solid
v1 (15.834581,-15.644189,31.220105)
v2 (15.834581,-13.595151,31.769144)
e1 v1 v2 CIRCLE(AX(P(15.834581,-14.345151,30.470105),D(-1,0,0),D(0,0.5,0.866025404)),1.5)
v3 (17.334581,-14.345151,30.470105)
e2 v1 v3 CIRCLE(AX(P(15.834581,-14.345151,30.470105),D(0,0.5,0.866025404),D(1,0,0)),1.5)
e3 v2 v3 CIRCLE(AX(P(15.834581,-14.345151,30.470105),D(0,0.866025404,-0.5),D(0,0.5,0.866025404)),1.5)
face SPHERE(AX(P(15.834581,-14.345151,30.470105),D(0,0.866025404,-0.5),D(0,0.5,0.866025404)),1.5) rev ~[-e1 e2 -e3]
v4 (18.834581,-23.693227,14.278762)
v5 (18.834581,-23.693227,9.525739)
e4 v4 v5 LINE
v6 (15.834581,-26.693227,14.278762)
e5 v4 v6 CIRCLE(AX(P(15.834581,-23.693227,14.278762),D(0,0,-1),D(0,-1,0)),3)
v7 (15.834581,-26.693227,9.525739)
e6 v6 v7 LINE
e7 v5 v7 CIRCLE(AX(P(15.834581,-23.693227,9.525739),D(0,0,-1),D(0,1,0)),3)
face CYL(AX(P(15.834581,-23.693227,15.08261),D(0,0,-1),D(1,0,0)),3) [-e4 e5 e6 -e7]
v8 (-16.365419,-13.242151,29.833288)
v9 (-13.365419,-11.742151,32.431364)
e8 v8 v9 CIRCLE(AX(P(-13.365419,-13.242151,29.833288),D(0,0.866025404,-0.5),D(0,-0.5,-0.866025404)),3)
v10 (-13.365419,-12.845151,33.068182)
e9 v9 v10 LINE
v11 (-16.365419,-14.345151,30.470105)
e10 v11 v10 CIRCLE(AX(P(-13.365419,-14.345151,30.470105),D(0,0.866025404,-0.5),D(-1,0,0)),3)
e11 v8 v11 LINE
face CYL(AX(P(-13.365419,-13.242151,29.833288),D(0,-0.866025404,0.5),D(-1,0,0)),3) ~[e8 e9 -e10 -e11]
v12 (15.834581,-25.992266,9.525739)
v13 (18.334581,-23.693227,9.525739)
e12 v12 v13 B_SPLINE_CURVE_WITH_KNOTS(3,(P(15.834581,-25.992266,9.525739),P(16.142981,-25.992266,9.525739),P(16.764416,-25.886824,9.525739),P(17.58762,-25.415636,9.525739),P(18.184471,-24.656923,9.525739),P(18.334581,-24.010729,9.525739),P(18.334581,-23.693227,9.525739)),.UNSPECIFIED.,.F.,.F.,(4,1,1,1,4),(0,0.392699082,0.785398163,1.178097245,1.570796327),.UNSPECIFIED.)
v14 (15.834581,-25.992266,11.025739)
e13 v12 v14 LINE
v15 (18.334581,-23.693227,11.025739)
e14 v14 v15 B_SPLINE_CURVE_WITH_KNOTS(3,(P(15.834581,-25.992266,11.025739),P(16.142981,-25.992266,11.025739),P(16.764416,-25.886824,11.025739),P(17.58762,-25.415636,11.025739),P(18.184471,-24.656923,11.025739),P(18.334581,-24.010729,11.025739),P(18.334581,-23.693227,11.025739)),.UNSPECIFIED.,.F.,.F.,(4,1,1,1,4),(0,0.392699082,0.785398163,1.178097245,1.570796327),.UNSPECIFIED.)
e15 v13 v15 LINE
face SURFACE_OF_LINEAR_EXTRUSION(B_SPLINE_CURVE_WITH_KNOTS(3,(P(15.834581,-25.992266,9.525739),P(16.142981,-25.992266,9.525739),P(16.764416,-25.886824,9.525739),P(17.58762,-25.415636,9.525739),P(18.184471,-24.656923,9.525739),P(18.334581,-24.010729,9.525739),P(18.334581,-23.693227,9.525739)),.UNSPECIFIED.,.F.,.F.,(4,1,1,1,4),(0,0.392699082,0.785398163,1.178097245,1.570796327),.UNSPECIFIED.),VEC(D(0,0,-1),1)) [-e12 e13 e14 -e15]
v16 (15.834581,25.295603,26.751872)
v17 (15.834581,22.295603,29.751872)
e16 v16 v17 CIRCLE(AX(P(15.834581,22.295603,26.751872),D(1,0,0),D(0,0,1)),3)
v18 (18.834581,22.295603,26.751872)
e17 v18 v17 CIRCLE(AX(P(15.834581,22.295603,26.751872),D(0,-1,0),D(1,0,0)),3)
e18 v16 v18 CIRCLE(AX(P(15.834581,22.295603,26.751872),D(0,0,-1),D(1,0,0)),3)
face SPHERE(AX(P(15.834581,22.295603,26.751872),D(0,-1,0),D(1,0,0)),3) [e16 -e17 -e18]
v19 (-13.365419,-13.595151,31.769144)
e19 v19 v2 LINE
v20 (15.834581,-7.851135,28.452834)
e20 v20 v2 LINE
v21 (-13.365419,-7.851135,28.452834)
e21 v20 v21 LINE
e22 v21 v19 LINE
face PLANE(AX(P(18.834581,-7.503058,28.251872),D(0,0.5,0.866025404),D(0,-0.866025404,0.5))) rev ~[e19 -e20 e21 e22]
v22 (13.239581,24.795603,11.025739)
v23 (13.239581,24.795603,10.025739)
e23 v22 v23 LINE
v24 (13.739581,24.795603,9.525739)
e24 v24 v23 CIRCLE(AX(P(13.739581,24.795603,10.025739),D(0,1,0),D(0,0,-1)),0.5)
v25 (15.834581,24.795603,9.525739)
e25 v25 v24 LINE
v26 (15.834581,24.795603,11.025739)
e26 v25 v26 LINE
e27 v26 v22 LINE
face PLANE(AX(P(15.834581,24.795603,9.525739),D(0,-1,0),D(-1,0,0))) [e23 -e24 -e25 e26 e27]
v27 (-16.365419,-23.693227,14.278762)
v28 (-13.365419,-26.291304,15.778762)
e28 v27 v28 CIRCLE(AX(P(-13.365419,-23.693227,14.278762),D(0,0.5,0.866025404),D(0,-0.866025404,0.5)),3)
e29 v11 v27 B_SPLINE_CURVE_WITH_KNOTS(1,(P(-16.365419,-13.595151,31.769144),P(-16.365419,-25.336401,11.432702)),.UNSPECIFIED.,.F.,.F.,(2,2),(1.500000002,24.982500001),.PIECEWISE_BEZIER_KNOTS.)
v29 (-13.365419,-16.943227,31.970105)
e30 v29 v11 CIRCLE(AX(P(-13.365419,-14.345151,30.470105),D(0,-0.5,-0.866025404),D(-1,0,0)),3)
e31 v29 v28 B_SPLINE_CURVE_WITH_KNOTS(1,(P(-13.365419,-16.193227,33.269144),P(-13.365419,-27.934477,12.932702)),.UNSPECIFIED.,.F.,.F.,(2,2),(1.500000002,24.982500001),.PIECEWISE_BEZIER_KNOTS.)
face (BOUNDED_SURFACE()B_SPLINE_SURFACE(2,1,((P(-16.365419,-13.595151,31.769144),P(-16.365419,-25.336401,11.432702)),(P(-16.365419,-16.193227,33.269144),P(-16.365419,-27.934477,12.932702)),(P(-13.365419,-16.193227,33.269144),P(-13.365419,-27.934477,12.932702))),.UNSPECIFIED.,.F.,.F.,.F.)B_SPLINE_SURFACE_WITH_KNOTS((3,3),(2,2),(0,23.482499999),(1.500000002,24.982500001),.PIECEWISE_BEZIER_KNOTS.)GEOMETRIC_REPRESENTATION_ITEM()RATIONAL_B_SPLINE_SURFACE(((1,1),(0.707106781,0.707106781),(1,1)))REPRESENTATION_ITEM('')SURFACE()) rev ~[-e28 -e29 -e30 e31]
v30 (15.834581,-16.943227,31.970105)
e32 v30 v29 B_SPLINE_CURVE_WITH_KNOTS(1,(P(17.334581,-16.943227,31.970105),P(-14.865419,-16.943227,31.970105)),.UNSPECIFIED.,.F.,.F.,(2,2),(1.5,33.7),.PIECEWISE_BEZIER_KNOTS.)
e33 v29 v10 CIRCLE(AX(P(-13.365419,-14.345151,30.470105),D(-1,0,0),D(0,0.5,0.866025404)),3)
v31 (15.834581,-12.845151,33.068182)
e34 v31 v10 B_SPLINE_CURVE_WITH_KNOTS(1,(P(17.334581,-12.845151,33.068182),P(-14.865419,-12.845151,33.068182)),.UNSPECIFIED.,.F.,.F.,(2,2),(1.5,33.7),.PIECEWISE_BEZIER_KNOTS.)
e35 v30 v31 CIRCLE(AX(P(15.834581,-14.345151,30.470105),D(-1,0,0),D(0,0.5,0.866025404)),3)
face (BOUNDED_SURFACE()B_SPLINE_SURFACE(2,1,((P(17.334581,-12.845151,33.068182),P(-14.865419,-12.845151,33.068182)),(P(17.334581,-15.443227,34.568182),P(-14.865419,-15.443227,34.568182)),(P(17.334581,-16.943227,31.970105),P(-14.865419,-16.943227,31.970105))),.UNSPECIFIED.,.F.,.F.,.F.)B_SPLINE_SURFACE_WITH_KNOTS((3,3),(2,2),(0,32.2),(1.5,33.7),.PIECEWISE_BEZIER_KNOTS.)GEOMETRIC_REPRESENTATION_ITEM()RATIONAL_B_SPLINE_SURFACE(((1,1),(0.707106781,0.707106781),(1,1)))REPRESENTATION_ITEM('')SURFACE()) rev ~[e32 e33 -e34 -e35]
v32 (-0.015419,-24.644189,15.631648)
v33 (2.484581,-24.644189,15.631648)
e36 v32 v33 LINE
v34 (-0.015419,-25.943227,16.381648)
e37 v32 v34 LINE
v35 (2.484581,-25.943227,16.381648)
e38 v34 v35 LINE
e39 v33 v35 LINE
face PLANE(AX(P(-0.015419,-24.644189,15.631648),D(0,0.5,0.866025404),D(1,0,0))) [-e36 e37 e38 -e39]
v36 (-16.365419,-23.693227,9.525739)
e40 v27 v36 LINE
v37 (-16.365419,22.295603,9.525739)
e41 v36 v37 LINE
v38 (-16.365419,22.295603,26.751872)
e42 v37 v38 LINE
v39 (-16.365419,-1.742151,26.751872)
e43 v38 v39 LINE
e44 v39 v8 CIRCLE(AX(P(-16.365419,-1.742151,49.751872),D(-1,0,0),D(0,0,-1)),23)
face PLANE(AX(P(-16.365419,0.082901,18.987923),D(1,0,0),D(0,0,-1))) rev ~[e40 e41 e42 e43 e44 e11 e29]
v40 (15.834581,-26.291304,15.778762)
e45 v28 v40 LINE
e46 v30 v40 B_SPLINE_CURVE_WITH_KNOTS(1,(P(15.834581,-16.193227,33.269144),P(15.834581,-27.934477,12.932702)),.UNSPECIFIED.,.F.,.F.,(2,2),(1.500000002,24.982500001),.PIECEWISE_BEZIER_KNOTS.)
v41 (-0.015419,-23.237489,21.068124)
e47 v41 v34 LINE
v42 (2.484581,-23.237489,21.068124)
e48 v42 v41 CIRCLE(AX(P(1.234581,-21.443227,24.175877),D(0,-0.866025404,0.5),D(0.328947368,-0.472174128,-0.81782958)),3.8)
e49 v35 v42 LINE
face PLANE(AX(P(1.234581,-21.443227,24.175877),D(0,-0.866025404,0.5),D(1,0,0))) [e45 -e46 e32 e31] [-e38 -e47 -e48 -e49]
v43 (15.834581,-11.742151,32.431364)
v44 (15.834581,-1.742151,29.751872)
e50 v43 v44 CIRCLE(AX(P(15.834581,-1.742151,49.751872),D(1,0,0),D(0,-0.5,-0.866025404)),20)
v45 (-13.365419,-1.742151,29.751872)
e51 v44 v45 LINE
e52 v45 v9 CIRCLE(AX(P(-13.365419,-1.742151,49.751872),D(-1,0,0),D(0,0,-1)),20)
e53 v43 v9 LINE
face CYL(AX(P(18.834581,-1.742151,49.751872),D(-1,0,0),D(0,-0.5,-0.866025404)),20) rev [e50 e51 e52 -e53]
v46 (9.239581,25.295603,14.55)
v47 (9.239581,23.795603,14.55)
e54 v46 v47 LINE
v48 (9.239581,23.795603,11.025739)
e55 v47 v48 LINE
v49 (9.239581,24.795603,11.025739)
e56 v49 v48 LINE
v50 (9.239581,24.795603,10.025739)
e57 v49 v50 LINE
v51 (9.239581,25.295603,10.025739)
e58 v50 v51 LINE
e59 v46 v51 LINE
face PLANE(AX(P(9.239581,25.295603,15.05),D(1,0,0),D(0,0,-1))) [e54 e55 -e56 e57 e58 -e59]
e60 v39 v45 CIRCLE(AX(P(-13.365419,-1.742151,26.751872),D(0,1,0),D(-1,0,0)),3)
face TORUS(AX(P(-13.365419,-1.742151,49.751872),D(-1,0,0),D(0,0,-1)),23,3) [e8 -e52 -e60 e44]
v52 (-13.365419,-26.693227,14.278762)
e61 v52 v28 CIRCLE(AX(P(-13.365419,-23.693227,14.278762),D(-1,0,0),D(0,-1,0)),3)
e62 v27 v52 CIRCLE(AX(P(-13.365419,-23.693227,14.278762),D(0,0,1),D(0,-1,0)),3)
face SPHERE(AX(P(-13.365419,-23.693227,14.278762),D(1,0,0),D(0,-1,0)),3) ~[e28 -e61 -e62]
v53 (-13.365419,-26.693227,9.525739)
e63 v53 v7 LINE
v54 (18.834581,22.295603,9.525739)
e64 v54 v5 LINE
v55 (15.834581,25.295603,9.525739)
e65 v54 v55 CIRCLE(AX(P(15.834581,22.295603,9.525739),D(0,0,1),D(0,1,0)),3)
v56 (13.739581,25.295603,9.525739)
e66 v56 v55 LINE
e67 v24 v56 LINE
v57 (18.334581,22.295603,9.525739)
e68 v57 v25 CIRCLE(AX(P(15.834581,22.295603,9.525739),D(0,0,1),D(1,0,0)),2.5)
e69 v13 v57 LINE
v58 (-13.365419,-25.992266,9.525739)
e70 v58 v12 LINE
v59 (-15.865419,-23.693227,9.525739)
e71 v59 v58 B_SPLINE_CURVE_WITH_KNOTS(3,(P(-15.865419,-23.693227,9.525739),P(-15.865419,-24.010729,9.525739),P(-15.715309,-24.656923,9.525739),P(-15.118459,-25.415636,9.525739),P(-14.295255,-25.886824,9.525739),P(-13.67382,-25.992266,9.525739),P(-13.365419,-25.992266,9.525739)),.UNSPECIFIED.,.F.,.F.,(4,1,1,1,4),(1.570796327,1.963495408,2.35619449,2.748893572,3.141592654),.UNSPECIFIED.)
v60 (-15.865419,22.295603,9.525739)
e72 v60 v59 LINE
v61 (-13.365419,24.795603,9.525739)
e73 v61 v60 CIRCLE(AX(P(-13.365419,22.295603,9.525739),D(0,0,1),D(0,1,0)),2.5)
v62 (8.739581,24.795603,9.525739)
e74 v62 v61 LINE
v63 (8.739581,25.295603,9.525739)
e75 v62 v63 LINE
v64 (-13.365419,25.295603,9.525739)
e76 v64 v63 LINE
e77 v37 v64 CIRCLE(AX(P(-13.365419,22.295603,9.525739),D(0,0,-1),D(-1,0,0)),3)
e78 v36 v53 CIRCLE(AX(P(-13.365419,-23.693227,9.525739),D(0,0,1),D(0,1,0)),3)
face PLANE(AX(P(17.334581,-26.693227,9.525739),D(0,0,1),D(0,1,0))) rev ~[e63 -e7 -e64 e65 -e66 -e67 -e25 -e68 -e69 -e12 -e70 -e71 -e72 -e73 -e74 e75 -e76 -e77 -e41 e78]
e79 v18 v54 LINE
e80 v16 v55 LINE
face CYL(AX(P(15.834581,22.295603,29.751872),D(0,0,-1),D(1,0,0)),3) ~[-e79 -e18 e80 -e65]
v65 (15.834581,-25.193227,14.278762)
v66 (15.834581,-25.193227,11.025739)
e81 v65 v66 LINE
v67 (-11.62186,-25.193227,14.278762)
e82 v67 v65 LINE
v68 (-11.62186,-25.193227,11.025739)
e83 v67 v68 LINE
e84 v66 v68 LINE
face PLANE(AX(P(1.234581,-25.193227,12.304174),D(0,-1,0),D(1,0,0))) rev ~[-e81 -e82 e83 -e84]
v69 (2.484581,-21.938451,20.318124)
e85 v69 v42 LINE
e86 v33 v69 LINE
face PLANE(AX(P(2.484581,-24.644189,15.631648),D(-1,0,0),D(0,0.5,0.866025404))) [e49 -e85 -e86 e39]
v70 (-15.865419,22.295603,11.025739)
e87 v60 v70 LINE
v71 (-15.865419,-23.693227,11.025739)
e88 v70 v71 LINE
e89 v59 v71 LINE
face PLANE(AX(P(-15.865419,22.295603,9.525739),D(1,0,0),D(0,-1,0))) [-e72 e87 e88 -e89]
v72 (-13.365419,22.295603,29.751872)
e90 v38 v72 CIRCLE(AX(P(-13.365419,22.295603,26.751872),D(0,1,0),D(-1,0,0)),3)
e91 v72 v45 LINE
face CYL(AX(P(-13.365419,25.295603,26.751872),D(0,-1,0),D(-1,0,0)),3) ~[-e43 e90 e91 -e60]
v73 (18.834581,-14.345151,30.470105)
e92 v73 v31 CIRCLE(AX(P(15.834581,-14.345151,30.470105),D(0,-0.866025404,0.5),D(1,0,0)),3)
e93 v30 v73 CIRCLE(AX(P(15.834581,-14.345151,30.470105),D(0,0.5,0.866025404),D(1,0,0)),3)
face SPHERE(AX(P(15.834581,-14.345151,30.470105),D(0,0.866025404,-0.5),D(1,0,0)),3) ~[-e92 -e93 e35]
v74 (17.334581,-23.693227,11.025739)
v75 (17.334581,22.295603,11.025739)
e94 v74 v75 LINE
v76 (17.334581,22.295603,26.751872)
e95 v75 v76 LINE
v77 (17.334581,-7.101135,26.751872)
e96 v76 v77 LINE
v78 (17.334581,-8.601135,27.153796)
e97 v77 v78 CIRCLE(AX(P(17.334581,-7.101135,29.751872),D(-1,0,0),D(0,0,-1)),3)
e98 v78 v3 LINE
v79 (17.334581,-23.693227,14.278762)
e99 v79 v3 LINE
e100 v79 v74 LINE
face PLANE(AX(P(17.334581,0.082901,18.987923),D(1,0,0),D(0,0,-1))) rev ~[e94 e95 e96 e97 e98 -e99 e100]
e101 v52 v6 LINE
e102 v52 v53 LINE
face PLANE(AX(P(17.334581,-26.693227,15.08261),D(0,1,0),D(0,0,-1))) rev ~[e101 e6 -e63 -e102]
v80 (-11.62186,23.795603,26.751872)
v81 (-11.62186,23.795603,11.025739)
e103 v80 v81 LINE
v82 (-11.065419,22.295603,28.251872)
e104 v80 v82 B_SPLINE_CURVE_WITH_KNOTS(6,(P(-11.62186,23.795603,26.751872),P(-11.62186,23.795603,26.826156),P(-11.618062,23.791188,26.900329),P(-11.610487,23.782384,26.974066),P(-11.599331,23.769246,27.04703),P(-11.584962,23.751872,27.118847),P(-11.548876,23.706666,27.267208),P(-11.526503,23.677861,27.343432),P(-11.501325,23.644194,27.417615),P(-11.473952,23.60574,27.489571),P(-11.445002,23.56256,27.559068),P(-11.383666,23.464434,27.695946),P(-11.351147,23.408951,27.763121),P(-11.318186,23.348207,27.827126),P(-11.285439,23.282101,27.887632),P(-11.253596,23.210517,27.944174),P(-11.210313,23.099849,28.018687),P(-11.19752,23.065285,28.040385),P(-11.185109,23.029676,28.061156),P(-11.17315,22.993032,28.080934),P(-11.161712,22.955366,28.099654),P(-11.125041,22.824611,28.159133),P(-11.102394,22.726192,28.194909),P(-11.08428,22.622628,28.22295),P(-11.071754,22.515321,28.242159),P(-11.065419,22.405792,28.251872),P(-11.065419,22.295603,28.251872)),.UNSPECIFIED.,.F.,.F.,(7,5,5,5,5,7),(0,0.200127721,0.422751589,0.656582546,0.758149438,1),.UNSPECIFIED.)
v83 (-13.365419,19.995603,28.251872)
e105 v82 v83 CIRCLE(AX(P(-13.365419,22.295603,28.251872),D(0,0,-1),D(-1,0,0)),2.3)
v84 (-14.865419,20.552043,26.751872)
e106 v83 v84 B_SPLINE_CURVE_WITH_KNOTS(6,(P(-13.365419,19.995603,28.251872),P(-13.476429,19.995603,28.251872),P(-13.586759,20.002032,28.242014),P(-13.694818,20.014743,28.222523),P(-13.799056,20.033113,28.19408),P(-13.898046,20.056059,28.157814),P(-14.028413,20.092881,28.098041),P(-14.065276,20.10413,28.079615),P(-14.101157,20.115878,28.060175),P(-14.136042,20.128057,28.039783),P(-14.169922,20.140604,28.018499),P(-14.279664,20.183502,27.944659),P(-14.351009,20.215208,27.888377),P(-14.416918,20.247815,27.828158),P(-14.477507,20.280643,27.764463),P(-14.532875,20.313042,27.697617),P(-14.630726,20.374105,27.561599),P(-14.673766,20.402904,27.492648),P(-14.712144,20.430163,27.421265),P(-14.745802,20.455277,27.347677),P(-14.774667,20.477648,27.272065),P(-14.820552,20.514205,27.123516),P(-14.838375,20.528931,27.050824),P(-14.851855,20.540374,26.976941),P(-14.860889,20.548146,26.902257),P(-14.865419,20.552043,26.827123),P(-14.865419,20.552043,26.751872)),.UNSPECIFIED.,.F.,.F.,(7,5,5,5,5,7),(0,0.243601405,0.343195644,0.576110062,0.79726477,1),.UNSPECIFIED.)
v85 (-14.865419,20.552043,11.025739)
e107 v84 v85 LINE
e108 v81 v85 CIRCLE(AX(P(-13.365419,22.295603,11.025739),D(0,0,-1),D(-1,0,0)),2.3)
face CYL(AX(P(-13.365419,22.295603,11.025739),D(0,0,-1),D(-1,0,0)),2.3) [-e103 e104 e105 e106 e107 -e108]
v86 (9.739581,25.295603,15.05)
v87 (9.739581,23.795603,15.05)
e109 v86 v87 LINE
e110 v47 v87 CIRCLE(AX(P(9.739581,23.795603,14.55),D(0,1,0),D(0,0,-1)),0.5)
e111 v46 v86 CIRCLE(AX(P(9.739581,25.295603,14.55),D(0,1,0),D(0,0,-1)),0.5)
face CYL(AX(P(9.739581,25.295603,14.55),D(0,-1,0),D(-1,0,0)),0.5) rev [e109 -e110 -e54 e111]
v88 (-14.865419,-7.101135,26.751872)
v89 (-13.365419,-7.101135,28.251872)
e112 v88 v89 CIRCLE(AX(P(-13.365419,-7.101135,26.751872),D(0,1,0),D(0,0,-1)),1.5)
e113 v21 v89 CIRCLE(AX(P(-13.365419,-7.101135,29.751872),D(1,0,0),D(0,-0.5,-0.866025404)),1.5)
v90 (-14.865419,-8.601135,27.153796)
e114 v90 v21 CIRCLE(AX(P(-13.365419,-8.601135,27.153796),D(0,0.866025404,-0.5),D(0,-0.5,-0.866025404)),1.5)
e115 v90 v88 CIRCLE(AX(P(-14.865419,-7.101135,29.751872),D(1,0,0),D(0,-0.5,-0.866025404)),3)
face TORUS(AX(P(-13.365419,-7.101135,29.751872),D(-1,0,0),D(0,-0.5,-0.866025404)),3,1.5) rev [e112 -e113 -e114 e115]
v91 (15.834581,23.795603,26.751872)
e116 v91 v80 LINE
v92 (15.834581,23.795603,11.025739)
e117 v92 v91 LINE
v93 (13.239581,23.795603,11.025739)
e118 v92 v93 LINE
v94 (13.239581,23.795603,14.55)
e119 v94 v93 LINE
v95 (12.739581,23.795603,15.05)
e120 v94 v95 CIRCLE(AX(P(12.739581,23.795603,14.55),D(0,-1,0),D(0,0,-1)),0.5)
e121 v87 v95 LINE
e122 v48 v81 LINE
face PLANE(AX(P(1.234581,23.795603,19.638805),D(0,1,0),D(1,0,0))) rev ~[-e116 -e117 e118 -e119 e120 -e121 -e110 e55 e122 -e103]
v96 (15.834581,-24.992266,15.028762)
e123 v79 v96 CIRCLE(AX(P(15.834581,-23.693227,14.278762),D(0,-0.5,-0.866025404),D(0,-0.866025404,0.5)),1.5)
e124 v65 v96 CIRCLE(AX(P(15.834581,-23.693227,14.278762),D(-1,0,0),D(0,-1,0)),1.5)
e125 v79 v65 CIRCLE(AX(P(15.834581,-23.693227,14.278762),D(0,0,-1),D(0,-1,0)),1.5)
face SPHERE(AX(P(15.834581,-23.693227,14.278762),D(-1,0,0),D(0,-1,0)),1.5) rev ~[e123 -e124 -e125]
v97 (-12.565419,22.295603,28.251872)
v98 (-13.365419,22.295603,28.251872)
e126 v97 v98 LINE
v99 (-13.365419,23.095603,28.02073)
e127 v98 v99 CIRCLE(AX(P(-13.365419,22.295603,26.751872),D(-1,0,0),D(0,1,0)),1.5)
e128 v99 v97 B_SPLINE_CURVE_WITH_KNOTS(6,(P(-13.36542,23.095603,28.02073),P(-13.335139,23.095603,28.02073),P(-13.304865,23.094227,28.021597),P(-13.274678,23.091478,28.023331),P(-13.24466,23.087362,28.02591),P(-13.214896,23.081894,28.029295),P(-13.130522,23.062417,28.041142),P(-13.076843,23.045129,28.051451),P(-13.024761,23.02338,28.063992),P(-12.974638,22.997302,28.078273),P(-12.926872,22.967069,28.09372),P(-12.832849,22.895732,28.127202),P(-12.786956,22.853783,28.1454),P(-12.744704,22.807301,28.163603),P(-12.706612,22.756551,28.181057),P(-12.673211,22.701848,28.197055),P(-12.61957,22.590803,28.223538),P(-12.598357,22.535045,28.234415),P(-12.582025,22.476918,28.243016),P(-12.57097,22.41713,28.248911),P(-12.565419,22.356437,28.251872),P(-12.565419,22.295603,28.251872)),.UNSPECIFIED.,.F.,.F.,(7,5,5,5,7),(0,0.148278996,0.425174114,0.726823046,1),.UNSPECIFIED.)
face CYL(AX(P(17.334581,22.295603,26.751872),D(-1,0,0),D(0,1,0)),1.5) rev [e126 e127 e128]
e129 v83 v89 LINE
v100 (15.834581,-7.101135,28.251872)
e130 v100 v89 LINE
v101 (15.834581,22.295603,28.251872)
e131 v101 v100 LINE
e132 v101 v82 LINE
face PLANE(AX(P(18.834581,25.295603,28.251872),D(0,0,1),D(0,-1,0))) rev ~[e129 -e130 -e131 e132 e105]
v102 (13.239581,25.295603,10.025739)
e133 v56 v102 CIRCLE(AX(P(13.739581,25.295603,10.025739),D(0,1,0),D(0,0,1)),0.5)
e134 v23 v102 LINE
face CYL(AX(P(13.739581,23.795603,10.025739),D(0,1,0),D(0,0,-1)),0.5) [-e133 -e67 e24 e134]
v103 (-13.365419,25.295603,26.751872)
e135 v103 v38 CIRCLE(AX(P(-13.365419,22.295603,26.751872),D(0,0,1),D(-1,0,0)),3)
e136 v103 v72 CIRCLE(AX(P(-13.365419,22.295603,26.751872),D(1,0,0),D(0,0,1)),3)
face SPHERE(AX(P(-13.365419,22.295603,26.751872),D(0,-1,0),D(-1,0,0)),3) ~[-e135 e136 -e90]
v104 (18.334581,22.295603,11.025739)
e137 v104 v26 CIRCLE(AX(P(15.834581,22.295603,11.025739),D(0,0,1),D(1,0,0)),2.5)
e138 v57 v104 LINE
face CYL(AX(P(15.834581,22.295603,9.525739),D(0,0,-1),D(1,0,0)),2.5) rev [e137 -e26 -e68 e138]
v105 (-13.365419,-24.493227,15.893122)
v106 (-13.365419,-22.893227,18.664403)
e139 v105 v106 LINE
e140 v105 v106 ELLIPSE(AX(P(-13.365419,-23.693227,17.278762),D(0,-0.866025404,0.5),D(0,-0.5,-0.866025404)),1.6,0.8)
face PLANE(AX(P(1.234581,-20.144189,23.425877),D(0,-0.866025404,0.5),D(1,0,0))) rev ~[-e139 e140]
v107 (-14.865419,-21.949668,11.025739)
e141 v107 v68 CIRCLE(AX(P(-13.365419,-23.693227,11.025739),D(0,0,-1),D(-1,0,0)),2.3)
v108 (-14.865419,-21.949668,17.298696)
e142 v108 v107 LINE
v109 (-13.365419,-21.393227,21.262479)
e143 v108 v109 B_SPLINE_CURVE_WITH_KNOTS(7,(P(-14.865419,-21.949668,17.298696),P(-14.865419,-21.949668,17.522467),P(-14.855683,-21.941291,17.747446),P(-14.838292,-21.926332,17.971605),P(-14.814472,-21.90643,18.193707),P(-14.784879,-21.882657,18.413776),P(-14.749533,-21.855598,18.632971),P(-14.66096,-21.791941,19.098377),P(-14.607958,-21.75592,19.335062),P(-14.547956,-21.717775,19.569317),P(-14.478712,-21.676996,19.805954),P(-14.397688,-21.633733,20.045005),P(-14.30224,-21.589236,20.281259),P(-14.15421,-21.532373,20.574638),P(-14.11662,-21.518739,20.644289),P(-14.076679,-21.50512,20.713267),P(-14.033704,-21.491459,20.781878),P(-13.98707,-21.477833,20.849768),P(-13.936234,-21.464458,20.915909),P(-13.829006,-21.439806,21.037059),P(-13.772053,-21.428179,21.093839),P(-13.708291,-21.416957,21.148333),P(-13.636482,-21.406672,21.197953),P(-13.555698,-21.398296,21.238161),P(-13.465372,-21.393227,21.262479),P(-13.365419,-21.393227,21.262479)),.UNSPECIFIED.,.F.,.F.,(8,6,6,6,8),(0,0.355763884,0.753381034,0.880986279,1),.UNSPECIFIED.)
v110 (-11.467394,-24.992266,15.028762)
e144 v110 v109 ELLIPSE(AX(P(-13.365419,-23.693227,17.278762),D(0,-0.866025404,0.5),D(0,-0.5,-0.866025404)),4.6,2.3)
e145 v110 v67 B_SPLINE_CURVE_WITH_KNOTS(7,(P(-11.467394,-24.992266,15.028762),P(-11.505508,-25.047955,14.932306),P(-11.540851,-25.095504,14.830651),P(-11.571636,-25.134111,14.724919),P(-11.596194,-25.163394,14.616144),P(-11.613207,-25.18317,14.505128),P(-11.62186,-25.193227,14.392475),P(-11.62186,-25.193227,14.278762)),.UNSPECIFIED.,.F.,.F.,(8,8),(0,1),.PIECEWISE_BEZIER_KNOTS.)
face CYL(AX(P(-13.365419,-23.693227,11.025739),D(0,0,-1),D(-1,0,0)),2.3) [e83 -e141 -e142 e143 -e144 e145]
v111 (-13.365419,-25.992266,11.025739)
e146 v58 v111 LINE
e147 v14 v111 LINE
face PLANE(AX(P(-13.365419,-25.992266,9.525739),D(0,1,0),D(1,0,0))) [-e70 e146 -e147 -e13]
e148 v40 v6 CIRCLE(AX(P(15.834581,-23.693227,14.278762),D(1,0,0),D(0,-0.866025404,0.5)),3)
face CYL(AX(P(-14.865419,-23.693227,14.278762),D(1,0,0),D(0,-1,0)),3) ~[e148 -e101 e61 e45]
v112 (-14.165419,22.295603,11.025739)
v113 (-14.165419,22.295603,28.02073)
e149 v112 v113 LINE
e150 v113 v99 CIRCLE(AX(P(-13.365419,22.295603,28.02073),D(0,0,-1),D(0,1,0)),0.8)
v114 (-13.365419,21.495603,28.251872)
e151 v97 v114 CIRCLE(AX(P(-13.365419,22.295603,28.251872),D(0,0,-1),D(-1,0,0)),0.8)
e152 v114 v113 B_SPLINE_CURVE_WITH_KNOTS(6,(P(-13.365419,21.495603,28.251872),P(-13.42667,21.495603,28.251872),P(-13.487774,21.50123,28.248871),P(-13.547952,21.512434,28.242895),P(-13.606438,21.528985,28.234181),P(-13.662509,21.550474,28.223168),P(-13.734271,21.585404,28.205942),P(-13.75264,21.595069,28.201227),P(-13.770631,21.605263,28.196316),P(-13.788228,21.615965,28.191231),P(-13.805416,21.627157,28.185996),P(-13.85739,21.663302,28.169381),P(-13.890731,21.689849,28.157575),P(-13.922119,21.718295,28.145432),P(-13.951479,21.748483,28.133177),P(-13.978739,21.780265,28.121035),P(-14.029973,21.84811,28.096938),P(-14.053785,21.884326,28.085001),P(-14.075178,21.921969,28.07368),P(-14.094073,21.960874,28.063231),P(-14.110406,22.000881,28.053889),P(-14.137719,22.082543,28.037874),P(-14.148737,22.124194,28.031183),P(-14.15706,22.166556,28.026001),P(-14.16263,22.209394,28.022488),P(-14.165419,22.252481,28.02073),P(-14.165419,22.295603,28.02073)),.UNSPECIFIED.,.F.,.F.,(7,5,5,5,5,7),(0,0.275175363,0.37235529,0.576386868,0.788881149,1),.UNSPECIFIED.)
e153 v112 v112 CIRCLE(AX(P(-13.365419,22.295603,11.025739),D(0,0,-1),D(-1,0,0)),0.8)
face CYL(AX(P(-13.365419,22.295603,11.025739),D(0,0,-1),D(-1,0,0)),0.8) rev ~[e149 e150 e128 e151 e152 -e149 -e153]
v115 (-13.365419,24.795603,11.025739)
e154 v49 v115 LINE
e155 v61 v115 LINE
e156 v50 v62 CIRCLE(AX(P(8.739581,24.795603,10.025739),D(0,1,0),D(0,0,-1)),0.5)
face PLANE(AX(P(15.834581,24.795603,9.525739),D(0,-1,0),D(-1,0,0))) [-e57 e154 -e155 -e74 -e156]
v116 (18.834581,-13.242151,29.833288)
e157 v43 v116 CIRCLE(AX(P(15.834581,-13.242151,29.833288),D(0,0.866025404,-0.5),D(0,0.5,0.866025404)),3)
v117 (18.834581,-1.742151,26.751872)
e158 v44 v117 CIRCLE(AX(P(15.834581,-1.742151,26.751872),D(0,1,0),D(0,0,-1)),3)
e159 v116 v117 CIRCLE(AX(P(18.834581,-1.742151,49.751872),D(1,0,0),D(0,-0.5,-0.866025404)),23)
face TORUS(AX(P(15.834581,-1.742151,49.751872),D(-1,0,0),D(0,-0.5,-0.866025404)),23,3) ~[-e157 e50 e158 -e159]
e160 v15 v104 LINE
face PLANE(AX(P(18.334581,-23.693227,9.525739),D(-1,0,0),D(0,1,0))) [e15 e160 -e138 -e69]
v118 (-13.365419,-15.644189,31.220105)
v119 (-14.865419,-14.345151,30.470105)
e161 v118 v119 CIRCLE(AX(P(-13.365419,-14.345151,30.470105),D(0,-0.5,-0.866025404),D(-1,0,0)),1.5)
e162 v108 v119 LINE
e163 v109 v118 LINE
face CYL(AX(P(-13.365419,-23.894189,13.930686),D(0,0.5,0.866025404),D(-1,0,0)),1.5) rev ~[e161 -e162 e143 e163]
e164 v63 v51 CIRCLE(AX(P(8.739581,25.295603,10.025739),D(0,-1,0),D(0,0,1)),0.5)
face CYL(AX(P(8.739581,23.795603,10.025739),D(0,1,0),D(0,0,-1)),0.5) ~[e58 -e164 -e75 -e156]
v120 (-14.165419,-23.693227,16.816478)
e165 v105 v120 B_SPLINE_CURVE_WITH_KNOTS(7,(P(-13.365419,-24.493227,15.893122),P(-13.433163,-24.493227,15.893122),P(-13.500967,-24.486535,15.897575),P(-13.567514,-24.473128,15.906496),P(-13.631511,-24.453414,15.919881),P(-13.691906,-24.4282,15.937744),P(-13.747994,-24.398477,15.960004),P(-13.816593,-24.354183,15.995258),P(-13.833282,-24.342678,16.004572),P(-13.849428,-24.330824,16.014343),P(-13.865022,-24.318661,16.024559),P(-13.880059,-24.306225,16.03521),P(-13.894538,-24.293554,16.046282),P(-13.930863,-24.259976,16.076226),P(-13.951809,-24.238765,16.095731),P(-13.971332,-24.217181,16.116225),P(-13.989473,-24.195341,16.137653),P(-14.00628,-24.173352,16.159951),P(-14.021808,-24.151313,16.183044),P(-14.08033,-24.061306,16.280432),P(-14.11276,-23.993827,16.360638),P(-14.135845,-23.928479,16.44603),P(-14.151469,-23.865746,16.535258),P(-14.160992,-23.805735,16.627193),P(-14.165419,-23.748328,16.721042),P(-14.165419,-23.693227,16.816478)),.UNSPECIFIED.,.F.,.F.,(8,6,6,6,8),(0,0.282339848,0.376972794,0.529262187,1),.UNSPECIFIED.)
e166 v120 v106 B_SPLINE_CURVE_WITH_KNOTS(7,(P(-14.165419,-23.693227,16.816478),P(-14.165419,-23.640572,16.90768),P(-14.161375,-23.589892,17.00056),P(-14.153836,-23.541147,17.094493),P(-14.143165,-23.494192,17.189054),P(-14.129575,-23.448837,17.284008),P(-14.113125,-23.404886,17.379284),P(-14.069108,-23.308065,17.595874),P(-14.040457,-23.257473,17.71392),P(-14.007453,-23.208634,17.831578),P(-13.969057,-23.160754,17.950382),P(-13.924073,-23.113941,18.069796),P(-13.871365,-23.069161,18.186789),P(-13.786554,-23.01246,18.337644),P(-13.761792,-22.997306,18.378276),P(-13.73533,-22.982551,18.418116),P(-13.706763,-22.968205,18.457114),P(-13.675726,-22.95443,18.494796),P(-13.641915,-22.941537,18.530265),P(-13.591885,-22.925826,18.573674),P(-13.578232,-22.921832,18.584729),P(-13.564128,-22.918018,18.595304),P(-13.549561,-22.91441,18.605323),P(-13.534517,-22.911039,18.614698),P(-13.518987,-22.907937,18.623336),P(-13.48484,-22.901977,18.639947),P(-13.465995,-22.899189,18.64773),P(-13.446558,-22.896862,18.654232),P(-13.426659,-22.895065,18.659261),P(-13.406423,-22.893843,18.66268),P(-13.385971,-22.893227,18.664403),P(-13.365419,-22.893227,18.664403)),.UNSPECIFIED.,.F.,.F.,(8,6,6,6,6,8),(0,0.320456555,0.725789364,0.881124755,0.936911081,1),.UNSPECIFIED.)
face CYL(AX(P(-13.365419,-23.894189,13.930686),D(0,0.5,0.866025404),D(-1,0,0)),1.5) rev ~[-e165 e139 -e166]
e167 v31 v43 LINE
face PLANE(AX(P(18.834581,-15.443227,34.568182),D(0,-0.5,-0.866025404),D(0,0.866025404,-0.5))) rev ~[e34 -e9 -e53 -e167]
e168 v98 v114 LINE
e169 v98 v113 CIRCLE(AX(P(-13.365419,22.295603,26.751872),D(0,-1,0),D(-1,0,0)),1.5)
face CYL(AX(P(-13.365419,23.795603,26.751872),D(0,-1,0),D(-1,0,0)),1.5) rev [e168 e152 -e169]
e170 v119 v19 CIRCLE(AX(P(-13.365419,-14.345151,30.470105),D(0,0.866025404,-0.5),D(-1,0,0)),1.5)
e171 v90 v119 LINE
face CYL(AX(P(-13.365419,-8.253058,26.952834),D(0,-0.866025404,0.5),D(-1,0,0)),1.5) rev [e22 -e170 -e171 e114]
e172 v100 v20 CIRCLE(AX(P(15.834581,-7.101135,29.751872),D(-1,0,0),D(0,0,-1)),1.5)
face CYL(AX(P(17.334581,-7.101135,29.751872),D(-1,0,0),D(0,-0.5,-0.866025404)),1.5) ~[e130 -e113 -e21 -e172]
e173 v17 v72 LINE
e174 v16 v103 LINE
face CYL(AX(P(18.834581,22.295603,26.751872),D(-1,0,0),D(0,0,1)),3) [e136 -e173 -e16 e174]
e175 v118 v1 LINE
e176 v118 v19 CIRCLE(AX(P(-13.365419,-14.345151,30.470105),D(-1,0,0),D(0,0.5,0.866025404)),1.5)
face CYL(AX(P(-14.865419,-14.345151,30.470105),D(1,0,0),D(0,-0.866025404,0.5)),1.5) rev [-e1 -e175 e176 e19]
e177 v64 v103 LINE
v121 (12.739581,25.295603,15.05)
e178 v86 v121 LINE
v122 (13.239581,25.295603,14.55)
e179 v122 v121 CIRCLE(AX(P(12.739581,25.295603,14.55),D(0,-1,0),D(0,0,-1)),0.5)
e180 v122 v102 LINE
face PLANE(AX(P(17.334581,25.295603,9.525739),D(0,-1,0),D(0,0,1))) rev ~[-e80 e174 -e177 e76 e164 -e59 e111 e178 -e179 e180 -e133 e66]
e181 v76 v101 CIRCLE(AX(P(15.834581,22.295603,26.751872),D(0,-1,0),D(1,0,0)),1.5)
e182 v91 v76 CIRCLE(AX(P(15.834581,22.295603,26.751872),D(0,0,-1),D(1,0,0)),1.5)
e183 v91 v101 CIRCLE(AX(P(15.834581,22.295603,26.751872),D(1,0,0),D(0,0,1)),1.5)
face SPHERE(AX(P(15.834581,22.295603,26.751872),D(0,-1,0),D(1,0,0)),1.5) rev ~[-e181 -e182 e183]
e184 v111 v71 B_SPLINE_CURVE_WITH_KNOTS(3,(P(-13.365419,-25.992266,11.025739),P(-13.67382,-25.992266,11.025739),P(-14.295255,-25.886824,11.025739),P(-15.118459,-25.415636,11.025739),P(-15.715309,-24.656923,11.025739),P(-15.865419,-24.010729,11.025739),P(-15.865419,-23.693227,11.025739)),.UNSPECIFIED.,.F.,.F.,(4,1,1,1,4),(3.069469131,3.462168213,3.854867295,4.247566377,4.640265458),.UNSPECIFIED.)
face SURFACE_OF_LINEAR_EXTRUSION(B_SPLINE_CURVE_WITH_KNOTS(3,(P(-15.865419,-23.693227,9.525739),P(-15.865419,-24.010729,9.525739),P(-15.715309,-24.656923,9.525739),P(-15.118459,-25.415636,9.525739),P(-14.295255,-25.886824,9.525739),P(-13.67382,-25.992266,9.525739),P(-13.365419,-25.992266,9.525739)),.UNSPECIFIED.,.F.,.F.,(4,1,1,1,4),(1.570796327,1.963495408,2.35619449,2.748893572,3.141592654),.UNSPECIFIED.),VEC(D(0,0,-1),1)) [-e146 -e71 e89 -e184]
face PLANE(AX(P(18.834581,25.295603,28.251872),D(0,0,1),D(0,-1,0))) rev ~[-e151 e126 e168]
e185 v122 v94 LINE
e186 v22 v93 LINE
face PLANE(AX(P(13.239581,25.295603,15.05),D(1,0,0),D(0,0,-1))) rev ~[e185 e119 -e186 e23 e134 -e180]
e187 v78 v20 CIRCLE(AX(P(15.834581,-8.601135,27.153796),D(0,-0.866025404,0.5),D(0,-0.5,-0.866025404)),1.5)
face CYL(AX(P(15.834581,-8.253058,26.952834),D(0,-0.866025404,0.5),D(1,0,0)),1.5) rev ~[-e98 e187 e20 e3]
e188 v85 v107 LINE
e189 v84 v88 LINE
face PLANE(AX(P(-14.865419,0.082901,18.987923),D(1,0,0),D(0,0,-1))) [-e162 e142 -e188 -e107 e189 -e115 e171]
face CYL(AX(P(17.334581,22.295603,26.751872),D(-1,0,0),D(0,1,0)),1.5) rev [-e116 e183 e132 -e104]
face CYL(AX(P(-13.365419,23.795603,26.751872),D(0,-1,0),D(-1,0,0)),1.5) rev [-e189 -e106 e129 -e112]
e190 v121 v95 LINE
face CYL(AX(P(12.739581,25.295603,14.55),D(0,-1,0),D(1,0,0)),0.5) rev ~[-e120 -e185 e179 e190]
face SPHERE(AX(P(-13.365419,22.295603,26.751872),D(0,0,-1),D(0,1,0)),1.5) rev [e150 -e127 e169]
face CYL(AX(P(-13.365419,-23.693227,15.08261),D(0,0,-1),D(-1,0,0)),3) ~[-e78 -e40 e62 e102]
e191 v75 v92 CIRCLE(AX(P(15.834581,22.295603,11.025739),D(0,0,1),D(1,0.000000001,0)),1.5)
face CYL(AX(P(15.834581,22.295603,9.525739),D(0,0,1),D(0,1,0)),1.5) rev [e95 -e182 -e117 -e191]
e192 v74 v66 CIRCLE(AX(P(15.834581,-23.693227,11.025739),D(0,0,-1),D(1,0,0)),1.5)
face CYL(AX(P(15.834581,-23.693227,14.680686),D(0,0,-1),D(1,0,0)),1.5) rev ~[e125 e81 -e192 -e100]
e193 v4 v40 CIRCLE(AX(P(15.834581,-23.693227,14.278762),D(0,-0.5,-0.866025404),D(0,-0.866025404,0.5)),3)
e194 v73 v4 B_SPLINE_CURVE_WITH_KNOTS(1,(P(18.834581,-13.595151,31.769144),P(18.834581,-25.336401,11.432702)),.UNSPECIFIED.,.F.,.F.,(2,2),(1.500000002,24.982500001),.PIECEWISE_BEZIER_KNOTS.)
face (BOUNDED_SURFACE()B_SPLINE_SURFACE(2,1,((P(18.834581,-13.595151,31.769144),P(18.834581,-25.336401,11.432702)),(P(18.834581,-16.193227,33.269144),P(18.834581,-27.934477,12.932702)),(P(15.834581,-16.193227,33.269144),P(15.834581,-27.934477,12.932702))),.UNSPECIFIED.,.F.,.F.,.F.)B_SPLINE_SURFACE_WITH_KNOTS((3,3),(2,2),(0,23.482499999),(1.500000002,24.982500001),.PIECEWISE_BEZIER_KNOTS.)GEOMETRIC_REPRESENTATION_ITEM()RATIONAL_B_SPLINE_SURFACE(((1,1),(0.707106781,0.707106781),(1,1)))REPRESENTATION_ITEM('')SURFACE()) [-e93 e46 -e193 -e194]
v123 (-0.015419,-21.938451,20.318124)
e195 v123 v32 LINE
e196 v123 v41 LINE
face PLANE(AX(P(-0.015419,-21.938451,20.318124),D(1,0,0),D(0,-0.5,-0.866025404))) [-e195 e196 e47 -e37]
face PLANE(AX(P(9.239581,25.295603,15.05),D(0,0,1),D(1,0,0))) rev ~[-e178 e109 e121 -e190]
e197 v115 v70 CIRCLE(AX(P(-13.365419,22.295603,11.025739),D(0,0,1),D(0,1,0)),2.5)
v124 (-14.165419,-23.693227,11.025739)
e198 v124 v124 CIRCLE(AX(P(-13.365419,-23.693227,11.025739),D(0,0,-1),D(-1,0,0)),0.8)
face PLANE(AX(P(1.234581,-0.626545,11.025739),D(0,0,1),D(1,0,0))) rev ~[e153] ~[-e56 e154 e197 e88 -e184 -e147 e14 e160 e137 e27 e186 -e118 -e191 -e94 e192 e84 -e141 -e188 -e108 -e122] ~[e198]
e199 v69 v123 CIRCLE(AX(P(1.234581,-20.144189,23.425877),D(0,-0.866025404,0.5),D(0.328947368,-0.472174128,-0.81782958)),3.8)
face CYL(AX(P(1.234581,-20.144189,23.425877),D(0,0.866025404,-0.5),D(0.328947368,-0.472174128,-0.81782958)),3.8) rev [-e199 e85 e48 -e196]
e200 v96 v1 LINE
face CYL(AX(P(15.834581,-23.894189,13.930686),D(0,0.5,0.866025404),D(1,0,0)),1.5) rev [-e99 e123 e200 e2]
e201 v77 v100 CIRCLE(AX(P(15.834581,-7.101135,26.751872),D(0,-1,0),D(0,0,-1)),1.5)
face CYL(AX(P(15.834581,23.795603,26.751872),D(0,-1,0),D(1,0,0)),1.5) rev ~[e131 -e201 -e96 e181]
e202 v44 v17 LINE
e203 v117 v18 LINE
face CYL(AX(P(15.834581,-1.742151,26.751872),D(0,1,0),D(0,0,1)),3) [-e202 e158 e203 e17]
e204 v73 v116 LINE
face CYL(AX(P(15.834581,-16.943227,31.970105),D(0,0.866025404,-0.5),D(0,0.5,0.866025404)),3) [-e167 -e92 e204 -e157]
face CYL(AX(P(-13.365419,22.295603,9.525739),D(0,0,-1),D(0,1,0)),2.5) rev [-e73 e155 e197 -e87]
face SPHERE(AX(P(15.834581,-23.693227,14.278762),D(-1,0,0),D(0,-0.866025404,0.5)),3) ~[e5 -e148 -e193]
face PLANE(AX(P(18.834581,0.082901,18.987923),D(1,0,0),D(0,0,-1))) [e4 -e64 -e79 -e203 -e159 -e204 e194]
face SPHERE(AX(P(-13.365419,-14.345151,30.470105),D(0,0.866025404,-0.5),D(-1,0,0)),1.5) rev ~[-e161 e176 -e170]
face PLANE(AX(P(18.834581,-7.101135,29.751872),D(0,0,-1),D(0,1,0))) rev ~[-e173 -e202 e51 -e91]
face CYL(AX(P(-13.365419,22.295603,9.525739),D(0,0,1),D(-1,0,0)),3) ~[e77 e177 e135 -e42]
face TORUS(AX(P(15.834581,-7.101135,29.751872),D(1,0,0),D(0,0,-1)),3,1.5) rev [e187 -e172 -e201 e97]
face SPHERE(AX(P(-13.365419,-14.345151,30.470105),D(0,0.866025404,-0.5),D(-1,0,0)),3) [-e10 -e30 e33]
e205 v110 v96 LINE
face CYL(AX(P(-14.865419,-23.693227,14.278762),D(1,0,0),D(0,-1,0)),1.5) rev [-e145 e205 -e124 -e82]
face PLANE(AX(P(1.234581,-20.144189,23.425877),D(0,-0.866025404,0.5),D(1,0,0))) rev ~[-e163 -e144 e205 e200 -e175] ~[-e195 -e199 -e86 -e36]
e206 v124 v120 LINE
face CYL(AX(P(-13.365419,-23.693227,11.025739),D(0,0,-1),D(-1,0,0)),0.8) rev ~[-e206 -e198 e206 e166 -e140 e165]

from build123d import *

# Parameters (mm, degrees)
SKETCH1_W           = 32.2
SKETCH1_H           = 21
BOSS_EXTRUDE2_DEPTH = 1.5
BOSS_EXTRUDE3_DEPTH = 1.5
BOSS_EXTRUDE4_DEPTH = 1.5
BOSS_EXTRUDE5_DEPTH = 35.2
SKETCH5_W           = 35.2
SKETCH5_H           = 5.556871517
BOSS_EXTRUDE6_DEPTH = 1.5
SKETCH6_W           = 35.2
SKETCH6_H           = 20.226133569
BOSS_EXTRUDE7_DEPTH = 1.5
FILLET3_R           = 20
FILLET_EXTERIOR_R   = 3
FILLET_INTERIOR_R   = 1.5
SKETCH7_W           = 4
SKETCH7_H           = 8.5
CUT_EXTRUDE1_DEPTH  = 1.5
FILLET4_R           = 0.5
CUT_EXTRUDE2_DEPTH  = 1.5
SCREW_BOSS1_REACH   = 41.636
SKETCH10_R          = 2.3
SKETCH10_R_2        = 0.8
SCREW_BOSS2_REACH   = 41.636
SKETCH11_R          = 2.3
SKETCH11_R_2        = 0.8


with BuildPart() as part:
    # Sketch1 → Boss-Extrude2 (new body)
    with BuildSketch(Plane(origin=(0, -25.251844214, 14.579159054), x_dir=(1, 0, 0), z_dir=(3.491481338843128e-15, -0.866025403784445, 0.4999999999999889))):
        with Locations((1.234580757, 10.21530973)):
            Rectangle(SKETCH1_W, SKETCH1_H)
        with BuildLine():
            Line((-0.015419243, 1.21530973), (2.484580757, 1.21530973))
            Line((2.484580757, 1.21530973), (2.484580757, 6.626786357))
            ThreePointArc((2.484580757, 6.626786357), (1.234580757, 14.01530973), (-0.015419243, 6.626786357))
            Line((-0.015419243, 6.626786357), (-0.015419243, 1.21530973))
        make_face(mode=Mode.SUBTRACT)
    extrude(amount=BOSS_EXTRUDE2_DEPTH)

    # Sketch2 → Boss-Extrude3 (add)
    with BuildSketch(Plane(origin=(17.334580757, 0, 0), x_dir=(0, 0, -1), z_dir=(1, 0, 0))):
        Polygon((-15.082610048, -26.693227454), (-9.525738531, -26.693227454), (-9.525738531, 25.295602697), (-28.2518721, 25.295602697), (-28.2518721, -7.503058425), (-33.269143528, -16.193227454), align=None)
    extrude(amount=BOSS_EXTRUDE3_DEPTH)

    # Sketch3 → Boss-Extrude4 (add)
    with BuildSketch(Plane.ZY.offset(14.865419243)):
        Polygon((28.2518721, 25.295602697), (28.2518721, -7.503058425), (33.269143528, -16.193227454), (15.082610048, -26.693227454), (9.525738531, -26.693227454), (9.525738531, 25.295602697), align=None)
    extrude(amount=BOSS_EXTRUDE4_DEPTH)

    # Sketch4 → Boss-Extrude5 (add)
    with BuildSketch(Plane(origin=(18.834580757, 0, 0), x_dir=(0, 0, -1), z_dir=(1, 0, 0))):
        Polygon((-28.2518721, -7.503058425), (-33.269143528, -16.193227454), (-34.568181634, -15.443227454), (-29.7518721, -7.101134637), (-29.7518721, 25.295602697), (-28.2518721, 25.295602697), align=None)
    extrude(amount=-BOSS_EXTRUDE5_DEPTH)

    # Sketch5 → Boss-Extrude6 (add)
    with BuildSketch(Plane.XZ.offset(26.693227454)):
        with Locations((1.234580757, 12.30417429)):
            Rectangle(SKETCH5_W, SKETCH5_H)
    extrude(amount=-BOSS_EXTRUDE6_DEPTH)

    # Sketch6 → Boss-Extrude7 (add)
    with BuildSketch(Plane(origin=(0, 25.295602697, 0), x_dir=(1, 0, 0), z_dir=(0, 1, 0))):
        with Locations((1.234580757, -19.638805316)):
            Rectangle(SKETCH6_W, SKETCH6_H)
    extrude(amount=-BOSS_EXTRUDE7_DEPTH)

    # Fillet3
    fillet3_edges = [part.edges().sort_by_distance(p)[0] for p in [
        (1.234580757, -7.101134637, 29.7518721),
    ]]
    fillet(fillet3_edges, radius=FILLET3_R)

    # Fillet-Exterior
    fillet_exterior_edges = [part.edges().sort_by_distance(p)[0] for p in [
        (-16.365419243, 11.776725954, 29.7518721),
        (18.834580757, -13.592689121, 33.499772829),
        (18.834580757, -6.91853169, 30.433355574),
        (-16.365419243, -6.91853169, 30.433355574),
        (1.234580757, -26.693227454, 15.082610048),
        (18.834580757, -21.068227454, 24.825395841),
        (18.834580757, -26.693227454, 12.30417429),
        (18.834580757, 25.295602697, 19.638805315),
        (-16.365419243, 25.295602697, 19.638805315),
        (-16.365419243, -26.693227454, 12.30417429),
        (-16.365419243, -21.068227454, 24.825395841),
        (1.234580757, -15.443227454, 34.568181634),
        (1.234580757, 25.295602697, 29.7518721),
        (18.834580757, 11.776725954, 29.7518721),
        (-16.365419243, -13.592689121, 33.499772829),
    ]]
    fillet(fillet_exterior_edges, radius=FILLET_EXTERIOR_R)

    # Fillet-Interior
    fillet_interior_edges = [part.edges().sort_by_distance(p)[0] for p in [
        (17.334580757, 8.146272136, 28.2518721),
        (17.334580757, 23.795602697, 18.888805315),
        (-14.865419243, 23.795602697, 18.888805315),
        (1.234580757, 23.795602697, 28.2518721),
        (17.334580757, -11.198623887, 30.385507814),
        (-14.865419243, -11.198623887, 30.385507814),
        (-14.865419243, 8.146272136, 28.2518721),
        (-14.865419243, -20.043708401, 23.599914894),
        (1.234580757, -14.894189349, 32.519143528),
        (1.234580757, -7.503058425, 28.2518721),
        (-14.865419243, -25.193227454, 12.103212395),
        (17.334580757, -20.043708401, 23.599914894),
        (1.234580757, -25.193227454, 14.68068626),
        (17.334580757, -25.193227454, 12.103212395),
    ]]
    fillet(fillet_interior_edges, radius=FILLET_INTERIOR_R)

    # Sketch7 → Cut-Extrude1 (cut)
    with BuildSketch(Plane(origin=(0, 25.295602697, 0), x_dir=(1, 0, 0), z_dir=(0, 1, 0))):
        with Locations((11.239580757, -10.8)):
            Rectangle(SKETCH7_W, SKETCH7_H)
    extrude(amount=-CUT_EXTRUDE1_DEPTH, mode=Mode.SUBTRACT)

    # Fillet4
    fillet4_edges = [part.edges().sort_by_distance(p)[0] for p in [
        (9.239580757, 24.545602697, 9.525738531),
        (9.239580757, 24.545602697, 15.05),
        (13.239580757, 24.545602697, 9.525738531),
        (13.239580757, 24.545602697, 15.05),
    ]]
    fillet(fillet4_edges, radius=FILLET4_R)

    # Sketch9 → Cut-Extrude2 (cut)
    with BuildSketch(Plane(origin=(0, 0, 9.525738531), x_dir=(-1, 0, 0), z_dir=(0, 0, -1))):
        with BuildLine():
            Line((13.365419243, -25.99226556), (-15.834580757, -25.99226556))
            add(Edge.make_bspline(
                [(-15.834580757, -25.99226556), (-16.142981162, -25.99226556), (-16.764416225, -25.886824157), (-17.587620167, -25.41563579), (-18.184470703, -24.656923007), (-18.334580757, -24.010728961), (-18.334580757, -23.693227454)],
                knots=[0, 0, 0, 0, 0.392699082, 0.785398163, 1.178097245, 1.570796327, 1.570796327, 1.570796327, 1.570796327], degree=3))
            Line((-18.334580757, -23.693227454), (-18.334580757, 22.295602697))
            ThreePointArc((-18.334580757, 22.295602697), (-17.60234771, 24.06336965), (-15.834580757, 24.795602697))
            Line((-15.834580757, 24.795602697), (13.365419243, 24.795602697))
            ThreePointArc((13.365419243, 24.795602697), (15.133186196, 24.06336965), (15.865419243, 22.295602697))
            Line((15.865419243, 22.295602697), (15.865419243, -23.693227454))
            add(Edge.make_bspline(
                [(15.865419243, -23.693227454), (15.865419243, -24.010728961), (15.715309189, -24.656923007), (15.118458653, -25.41563579), (14.295254711, -25.886824157), (13.673819649, -25.99226556), (13.365419243, -25.99226556)],
                knots=[1.570796327, 1.570796327, 1.570796327, 1.570796327, 1.963495408, 2.35619449, 2.748893572, 3.141592654, 3.141592654, 3.141592654, 3.141592654], degree=3))
        make_face()
        with BuildLine():
            Line((14.865419243, 22.295602697), (14.865419243, -23.693227454))
            add(Edge.make_bspline(
                [(13.365419243, -24.99226556), (14.865419243, -24.99226556), (14.865419243, -23.693227454)],
                knots=[1.570796327, 1.570796327, 1.570796327, 3.141592654, 3.141592654, 3.141592654], degree=2, weights=[1, 0.707106781, 1]))
            Line((13.365419243, -24.99226556), (-15.834580757, -24.99226556))
            add(Edge.make_bspline(
                [(-17.334580757, -23.693227454), (-17.334580757, -24.99226556), (-15.834580757, -24.99226556)],
                knots=[0, 0, 0, 1.570796327, 1.570796327, 1.570796327], degree=2, weights=[1, 0.707106781, 1]))
            Line((-17.334580757, -23.693227454), (-17.334580757, 22.295602697))
            ThreePointArc((-17.334580757, 22.295602697), (-16.895240929, 23.356262868), (-15.834580757, 23.795602697))
            Line((-15.834580757, 23.795602697), (13.365419243, 23.795602697))
            ThreePointArc((13.365419243, 23.795602697), (14.426079415, 23.356262868), (14.865419243, 22.295602697))
        make_face(mode=Mode.SUBTRACT)
    extrude(amount=-CUT_EXTRUDE2_DEPTH, mode=Mode.SUBTRACT)

    # Screw-Boss1: up to this face of the body (flat: up to its plane)
    screw_boss1_end = Plane(part.part.faces().sort_by_distance((1.234580757, 7.59723403, 28.2518721))[0])
    # Sketch10 → Screw-Boss1 (add, up to the picked face)
    with BuildSketch(Plane(origin=(0, 0, 11.025738531), x_dir=(-1, 0, 0), z_dir=(0, 0, -1)), mode=Mode.PRIVATE) as screw_boss1_sk1:
        with Locations((13.365419243, 22.295602697)):
            Circle(SKETCH10_R)
        with Locations((13.365419243, 22.295602697)):
            Circle(SKETCH10_R_2, mode=Mode.SUBTRACT)
    screw_boss1_tool1 = split(extrude(screw_boss1_sk1.sketch, amount=-SCREW_BOSS1_REACH, mode=Mode.PRIVATE), bisect_by=screw_boss1_end, keep=Keep.BOTH, mode=Mode.PRIVATE)
    add(screw_boss1_tool1.solids().sort_by(Axis((-11.130473, 22.295603, 11.025739), (0, 0, 1)))[0])

    # Screw-Boss2: up to this plane
    screw_boss2_end = Plane(origin=(0, -25.251844214, 14.579159054), z_dir=(3.5680069050429865e-15, -0.8660254037844453, 0.49999999999998884))
    # Sketch11 → Screw-Boss2 (add, up to the surface)
    with BuildSketch(Plane(origin=(0, 0, 11.025738531), x_dir=(-1, 0, 0), z_dir=(0, 0, -1)), mode=Mode.PRIVATE) as screw_boss2_sk1:
        with Locations((13.365419243, -23.693227454)):
            Circle(SKETCH11_R)
        with Locations((13.365419243, -23.693227454)):
            Circle(SKETCH11_R_2, mode=Mode.SUBTRACT)
    screw_boss2_tool1 = split(extrude(screw_boss2_sk1.sketch, amount=-SCREW_BOSS2_REACH, mode=Mode.PRIVATE), bisect_by=screw_boss2_end, keep=Keep.BOTH, mode=Mode.PRIVATE)
    add(screw_boss2_tool1.solids().sort_by_distance((-11.130473, -23.693227, 11.025739))[0])


solid = part.part
